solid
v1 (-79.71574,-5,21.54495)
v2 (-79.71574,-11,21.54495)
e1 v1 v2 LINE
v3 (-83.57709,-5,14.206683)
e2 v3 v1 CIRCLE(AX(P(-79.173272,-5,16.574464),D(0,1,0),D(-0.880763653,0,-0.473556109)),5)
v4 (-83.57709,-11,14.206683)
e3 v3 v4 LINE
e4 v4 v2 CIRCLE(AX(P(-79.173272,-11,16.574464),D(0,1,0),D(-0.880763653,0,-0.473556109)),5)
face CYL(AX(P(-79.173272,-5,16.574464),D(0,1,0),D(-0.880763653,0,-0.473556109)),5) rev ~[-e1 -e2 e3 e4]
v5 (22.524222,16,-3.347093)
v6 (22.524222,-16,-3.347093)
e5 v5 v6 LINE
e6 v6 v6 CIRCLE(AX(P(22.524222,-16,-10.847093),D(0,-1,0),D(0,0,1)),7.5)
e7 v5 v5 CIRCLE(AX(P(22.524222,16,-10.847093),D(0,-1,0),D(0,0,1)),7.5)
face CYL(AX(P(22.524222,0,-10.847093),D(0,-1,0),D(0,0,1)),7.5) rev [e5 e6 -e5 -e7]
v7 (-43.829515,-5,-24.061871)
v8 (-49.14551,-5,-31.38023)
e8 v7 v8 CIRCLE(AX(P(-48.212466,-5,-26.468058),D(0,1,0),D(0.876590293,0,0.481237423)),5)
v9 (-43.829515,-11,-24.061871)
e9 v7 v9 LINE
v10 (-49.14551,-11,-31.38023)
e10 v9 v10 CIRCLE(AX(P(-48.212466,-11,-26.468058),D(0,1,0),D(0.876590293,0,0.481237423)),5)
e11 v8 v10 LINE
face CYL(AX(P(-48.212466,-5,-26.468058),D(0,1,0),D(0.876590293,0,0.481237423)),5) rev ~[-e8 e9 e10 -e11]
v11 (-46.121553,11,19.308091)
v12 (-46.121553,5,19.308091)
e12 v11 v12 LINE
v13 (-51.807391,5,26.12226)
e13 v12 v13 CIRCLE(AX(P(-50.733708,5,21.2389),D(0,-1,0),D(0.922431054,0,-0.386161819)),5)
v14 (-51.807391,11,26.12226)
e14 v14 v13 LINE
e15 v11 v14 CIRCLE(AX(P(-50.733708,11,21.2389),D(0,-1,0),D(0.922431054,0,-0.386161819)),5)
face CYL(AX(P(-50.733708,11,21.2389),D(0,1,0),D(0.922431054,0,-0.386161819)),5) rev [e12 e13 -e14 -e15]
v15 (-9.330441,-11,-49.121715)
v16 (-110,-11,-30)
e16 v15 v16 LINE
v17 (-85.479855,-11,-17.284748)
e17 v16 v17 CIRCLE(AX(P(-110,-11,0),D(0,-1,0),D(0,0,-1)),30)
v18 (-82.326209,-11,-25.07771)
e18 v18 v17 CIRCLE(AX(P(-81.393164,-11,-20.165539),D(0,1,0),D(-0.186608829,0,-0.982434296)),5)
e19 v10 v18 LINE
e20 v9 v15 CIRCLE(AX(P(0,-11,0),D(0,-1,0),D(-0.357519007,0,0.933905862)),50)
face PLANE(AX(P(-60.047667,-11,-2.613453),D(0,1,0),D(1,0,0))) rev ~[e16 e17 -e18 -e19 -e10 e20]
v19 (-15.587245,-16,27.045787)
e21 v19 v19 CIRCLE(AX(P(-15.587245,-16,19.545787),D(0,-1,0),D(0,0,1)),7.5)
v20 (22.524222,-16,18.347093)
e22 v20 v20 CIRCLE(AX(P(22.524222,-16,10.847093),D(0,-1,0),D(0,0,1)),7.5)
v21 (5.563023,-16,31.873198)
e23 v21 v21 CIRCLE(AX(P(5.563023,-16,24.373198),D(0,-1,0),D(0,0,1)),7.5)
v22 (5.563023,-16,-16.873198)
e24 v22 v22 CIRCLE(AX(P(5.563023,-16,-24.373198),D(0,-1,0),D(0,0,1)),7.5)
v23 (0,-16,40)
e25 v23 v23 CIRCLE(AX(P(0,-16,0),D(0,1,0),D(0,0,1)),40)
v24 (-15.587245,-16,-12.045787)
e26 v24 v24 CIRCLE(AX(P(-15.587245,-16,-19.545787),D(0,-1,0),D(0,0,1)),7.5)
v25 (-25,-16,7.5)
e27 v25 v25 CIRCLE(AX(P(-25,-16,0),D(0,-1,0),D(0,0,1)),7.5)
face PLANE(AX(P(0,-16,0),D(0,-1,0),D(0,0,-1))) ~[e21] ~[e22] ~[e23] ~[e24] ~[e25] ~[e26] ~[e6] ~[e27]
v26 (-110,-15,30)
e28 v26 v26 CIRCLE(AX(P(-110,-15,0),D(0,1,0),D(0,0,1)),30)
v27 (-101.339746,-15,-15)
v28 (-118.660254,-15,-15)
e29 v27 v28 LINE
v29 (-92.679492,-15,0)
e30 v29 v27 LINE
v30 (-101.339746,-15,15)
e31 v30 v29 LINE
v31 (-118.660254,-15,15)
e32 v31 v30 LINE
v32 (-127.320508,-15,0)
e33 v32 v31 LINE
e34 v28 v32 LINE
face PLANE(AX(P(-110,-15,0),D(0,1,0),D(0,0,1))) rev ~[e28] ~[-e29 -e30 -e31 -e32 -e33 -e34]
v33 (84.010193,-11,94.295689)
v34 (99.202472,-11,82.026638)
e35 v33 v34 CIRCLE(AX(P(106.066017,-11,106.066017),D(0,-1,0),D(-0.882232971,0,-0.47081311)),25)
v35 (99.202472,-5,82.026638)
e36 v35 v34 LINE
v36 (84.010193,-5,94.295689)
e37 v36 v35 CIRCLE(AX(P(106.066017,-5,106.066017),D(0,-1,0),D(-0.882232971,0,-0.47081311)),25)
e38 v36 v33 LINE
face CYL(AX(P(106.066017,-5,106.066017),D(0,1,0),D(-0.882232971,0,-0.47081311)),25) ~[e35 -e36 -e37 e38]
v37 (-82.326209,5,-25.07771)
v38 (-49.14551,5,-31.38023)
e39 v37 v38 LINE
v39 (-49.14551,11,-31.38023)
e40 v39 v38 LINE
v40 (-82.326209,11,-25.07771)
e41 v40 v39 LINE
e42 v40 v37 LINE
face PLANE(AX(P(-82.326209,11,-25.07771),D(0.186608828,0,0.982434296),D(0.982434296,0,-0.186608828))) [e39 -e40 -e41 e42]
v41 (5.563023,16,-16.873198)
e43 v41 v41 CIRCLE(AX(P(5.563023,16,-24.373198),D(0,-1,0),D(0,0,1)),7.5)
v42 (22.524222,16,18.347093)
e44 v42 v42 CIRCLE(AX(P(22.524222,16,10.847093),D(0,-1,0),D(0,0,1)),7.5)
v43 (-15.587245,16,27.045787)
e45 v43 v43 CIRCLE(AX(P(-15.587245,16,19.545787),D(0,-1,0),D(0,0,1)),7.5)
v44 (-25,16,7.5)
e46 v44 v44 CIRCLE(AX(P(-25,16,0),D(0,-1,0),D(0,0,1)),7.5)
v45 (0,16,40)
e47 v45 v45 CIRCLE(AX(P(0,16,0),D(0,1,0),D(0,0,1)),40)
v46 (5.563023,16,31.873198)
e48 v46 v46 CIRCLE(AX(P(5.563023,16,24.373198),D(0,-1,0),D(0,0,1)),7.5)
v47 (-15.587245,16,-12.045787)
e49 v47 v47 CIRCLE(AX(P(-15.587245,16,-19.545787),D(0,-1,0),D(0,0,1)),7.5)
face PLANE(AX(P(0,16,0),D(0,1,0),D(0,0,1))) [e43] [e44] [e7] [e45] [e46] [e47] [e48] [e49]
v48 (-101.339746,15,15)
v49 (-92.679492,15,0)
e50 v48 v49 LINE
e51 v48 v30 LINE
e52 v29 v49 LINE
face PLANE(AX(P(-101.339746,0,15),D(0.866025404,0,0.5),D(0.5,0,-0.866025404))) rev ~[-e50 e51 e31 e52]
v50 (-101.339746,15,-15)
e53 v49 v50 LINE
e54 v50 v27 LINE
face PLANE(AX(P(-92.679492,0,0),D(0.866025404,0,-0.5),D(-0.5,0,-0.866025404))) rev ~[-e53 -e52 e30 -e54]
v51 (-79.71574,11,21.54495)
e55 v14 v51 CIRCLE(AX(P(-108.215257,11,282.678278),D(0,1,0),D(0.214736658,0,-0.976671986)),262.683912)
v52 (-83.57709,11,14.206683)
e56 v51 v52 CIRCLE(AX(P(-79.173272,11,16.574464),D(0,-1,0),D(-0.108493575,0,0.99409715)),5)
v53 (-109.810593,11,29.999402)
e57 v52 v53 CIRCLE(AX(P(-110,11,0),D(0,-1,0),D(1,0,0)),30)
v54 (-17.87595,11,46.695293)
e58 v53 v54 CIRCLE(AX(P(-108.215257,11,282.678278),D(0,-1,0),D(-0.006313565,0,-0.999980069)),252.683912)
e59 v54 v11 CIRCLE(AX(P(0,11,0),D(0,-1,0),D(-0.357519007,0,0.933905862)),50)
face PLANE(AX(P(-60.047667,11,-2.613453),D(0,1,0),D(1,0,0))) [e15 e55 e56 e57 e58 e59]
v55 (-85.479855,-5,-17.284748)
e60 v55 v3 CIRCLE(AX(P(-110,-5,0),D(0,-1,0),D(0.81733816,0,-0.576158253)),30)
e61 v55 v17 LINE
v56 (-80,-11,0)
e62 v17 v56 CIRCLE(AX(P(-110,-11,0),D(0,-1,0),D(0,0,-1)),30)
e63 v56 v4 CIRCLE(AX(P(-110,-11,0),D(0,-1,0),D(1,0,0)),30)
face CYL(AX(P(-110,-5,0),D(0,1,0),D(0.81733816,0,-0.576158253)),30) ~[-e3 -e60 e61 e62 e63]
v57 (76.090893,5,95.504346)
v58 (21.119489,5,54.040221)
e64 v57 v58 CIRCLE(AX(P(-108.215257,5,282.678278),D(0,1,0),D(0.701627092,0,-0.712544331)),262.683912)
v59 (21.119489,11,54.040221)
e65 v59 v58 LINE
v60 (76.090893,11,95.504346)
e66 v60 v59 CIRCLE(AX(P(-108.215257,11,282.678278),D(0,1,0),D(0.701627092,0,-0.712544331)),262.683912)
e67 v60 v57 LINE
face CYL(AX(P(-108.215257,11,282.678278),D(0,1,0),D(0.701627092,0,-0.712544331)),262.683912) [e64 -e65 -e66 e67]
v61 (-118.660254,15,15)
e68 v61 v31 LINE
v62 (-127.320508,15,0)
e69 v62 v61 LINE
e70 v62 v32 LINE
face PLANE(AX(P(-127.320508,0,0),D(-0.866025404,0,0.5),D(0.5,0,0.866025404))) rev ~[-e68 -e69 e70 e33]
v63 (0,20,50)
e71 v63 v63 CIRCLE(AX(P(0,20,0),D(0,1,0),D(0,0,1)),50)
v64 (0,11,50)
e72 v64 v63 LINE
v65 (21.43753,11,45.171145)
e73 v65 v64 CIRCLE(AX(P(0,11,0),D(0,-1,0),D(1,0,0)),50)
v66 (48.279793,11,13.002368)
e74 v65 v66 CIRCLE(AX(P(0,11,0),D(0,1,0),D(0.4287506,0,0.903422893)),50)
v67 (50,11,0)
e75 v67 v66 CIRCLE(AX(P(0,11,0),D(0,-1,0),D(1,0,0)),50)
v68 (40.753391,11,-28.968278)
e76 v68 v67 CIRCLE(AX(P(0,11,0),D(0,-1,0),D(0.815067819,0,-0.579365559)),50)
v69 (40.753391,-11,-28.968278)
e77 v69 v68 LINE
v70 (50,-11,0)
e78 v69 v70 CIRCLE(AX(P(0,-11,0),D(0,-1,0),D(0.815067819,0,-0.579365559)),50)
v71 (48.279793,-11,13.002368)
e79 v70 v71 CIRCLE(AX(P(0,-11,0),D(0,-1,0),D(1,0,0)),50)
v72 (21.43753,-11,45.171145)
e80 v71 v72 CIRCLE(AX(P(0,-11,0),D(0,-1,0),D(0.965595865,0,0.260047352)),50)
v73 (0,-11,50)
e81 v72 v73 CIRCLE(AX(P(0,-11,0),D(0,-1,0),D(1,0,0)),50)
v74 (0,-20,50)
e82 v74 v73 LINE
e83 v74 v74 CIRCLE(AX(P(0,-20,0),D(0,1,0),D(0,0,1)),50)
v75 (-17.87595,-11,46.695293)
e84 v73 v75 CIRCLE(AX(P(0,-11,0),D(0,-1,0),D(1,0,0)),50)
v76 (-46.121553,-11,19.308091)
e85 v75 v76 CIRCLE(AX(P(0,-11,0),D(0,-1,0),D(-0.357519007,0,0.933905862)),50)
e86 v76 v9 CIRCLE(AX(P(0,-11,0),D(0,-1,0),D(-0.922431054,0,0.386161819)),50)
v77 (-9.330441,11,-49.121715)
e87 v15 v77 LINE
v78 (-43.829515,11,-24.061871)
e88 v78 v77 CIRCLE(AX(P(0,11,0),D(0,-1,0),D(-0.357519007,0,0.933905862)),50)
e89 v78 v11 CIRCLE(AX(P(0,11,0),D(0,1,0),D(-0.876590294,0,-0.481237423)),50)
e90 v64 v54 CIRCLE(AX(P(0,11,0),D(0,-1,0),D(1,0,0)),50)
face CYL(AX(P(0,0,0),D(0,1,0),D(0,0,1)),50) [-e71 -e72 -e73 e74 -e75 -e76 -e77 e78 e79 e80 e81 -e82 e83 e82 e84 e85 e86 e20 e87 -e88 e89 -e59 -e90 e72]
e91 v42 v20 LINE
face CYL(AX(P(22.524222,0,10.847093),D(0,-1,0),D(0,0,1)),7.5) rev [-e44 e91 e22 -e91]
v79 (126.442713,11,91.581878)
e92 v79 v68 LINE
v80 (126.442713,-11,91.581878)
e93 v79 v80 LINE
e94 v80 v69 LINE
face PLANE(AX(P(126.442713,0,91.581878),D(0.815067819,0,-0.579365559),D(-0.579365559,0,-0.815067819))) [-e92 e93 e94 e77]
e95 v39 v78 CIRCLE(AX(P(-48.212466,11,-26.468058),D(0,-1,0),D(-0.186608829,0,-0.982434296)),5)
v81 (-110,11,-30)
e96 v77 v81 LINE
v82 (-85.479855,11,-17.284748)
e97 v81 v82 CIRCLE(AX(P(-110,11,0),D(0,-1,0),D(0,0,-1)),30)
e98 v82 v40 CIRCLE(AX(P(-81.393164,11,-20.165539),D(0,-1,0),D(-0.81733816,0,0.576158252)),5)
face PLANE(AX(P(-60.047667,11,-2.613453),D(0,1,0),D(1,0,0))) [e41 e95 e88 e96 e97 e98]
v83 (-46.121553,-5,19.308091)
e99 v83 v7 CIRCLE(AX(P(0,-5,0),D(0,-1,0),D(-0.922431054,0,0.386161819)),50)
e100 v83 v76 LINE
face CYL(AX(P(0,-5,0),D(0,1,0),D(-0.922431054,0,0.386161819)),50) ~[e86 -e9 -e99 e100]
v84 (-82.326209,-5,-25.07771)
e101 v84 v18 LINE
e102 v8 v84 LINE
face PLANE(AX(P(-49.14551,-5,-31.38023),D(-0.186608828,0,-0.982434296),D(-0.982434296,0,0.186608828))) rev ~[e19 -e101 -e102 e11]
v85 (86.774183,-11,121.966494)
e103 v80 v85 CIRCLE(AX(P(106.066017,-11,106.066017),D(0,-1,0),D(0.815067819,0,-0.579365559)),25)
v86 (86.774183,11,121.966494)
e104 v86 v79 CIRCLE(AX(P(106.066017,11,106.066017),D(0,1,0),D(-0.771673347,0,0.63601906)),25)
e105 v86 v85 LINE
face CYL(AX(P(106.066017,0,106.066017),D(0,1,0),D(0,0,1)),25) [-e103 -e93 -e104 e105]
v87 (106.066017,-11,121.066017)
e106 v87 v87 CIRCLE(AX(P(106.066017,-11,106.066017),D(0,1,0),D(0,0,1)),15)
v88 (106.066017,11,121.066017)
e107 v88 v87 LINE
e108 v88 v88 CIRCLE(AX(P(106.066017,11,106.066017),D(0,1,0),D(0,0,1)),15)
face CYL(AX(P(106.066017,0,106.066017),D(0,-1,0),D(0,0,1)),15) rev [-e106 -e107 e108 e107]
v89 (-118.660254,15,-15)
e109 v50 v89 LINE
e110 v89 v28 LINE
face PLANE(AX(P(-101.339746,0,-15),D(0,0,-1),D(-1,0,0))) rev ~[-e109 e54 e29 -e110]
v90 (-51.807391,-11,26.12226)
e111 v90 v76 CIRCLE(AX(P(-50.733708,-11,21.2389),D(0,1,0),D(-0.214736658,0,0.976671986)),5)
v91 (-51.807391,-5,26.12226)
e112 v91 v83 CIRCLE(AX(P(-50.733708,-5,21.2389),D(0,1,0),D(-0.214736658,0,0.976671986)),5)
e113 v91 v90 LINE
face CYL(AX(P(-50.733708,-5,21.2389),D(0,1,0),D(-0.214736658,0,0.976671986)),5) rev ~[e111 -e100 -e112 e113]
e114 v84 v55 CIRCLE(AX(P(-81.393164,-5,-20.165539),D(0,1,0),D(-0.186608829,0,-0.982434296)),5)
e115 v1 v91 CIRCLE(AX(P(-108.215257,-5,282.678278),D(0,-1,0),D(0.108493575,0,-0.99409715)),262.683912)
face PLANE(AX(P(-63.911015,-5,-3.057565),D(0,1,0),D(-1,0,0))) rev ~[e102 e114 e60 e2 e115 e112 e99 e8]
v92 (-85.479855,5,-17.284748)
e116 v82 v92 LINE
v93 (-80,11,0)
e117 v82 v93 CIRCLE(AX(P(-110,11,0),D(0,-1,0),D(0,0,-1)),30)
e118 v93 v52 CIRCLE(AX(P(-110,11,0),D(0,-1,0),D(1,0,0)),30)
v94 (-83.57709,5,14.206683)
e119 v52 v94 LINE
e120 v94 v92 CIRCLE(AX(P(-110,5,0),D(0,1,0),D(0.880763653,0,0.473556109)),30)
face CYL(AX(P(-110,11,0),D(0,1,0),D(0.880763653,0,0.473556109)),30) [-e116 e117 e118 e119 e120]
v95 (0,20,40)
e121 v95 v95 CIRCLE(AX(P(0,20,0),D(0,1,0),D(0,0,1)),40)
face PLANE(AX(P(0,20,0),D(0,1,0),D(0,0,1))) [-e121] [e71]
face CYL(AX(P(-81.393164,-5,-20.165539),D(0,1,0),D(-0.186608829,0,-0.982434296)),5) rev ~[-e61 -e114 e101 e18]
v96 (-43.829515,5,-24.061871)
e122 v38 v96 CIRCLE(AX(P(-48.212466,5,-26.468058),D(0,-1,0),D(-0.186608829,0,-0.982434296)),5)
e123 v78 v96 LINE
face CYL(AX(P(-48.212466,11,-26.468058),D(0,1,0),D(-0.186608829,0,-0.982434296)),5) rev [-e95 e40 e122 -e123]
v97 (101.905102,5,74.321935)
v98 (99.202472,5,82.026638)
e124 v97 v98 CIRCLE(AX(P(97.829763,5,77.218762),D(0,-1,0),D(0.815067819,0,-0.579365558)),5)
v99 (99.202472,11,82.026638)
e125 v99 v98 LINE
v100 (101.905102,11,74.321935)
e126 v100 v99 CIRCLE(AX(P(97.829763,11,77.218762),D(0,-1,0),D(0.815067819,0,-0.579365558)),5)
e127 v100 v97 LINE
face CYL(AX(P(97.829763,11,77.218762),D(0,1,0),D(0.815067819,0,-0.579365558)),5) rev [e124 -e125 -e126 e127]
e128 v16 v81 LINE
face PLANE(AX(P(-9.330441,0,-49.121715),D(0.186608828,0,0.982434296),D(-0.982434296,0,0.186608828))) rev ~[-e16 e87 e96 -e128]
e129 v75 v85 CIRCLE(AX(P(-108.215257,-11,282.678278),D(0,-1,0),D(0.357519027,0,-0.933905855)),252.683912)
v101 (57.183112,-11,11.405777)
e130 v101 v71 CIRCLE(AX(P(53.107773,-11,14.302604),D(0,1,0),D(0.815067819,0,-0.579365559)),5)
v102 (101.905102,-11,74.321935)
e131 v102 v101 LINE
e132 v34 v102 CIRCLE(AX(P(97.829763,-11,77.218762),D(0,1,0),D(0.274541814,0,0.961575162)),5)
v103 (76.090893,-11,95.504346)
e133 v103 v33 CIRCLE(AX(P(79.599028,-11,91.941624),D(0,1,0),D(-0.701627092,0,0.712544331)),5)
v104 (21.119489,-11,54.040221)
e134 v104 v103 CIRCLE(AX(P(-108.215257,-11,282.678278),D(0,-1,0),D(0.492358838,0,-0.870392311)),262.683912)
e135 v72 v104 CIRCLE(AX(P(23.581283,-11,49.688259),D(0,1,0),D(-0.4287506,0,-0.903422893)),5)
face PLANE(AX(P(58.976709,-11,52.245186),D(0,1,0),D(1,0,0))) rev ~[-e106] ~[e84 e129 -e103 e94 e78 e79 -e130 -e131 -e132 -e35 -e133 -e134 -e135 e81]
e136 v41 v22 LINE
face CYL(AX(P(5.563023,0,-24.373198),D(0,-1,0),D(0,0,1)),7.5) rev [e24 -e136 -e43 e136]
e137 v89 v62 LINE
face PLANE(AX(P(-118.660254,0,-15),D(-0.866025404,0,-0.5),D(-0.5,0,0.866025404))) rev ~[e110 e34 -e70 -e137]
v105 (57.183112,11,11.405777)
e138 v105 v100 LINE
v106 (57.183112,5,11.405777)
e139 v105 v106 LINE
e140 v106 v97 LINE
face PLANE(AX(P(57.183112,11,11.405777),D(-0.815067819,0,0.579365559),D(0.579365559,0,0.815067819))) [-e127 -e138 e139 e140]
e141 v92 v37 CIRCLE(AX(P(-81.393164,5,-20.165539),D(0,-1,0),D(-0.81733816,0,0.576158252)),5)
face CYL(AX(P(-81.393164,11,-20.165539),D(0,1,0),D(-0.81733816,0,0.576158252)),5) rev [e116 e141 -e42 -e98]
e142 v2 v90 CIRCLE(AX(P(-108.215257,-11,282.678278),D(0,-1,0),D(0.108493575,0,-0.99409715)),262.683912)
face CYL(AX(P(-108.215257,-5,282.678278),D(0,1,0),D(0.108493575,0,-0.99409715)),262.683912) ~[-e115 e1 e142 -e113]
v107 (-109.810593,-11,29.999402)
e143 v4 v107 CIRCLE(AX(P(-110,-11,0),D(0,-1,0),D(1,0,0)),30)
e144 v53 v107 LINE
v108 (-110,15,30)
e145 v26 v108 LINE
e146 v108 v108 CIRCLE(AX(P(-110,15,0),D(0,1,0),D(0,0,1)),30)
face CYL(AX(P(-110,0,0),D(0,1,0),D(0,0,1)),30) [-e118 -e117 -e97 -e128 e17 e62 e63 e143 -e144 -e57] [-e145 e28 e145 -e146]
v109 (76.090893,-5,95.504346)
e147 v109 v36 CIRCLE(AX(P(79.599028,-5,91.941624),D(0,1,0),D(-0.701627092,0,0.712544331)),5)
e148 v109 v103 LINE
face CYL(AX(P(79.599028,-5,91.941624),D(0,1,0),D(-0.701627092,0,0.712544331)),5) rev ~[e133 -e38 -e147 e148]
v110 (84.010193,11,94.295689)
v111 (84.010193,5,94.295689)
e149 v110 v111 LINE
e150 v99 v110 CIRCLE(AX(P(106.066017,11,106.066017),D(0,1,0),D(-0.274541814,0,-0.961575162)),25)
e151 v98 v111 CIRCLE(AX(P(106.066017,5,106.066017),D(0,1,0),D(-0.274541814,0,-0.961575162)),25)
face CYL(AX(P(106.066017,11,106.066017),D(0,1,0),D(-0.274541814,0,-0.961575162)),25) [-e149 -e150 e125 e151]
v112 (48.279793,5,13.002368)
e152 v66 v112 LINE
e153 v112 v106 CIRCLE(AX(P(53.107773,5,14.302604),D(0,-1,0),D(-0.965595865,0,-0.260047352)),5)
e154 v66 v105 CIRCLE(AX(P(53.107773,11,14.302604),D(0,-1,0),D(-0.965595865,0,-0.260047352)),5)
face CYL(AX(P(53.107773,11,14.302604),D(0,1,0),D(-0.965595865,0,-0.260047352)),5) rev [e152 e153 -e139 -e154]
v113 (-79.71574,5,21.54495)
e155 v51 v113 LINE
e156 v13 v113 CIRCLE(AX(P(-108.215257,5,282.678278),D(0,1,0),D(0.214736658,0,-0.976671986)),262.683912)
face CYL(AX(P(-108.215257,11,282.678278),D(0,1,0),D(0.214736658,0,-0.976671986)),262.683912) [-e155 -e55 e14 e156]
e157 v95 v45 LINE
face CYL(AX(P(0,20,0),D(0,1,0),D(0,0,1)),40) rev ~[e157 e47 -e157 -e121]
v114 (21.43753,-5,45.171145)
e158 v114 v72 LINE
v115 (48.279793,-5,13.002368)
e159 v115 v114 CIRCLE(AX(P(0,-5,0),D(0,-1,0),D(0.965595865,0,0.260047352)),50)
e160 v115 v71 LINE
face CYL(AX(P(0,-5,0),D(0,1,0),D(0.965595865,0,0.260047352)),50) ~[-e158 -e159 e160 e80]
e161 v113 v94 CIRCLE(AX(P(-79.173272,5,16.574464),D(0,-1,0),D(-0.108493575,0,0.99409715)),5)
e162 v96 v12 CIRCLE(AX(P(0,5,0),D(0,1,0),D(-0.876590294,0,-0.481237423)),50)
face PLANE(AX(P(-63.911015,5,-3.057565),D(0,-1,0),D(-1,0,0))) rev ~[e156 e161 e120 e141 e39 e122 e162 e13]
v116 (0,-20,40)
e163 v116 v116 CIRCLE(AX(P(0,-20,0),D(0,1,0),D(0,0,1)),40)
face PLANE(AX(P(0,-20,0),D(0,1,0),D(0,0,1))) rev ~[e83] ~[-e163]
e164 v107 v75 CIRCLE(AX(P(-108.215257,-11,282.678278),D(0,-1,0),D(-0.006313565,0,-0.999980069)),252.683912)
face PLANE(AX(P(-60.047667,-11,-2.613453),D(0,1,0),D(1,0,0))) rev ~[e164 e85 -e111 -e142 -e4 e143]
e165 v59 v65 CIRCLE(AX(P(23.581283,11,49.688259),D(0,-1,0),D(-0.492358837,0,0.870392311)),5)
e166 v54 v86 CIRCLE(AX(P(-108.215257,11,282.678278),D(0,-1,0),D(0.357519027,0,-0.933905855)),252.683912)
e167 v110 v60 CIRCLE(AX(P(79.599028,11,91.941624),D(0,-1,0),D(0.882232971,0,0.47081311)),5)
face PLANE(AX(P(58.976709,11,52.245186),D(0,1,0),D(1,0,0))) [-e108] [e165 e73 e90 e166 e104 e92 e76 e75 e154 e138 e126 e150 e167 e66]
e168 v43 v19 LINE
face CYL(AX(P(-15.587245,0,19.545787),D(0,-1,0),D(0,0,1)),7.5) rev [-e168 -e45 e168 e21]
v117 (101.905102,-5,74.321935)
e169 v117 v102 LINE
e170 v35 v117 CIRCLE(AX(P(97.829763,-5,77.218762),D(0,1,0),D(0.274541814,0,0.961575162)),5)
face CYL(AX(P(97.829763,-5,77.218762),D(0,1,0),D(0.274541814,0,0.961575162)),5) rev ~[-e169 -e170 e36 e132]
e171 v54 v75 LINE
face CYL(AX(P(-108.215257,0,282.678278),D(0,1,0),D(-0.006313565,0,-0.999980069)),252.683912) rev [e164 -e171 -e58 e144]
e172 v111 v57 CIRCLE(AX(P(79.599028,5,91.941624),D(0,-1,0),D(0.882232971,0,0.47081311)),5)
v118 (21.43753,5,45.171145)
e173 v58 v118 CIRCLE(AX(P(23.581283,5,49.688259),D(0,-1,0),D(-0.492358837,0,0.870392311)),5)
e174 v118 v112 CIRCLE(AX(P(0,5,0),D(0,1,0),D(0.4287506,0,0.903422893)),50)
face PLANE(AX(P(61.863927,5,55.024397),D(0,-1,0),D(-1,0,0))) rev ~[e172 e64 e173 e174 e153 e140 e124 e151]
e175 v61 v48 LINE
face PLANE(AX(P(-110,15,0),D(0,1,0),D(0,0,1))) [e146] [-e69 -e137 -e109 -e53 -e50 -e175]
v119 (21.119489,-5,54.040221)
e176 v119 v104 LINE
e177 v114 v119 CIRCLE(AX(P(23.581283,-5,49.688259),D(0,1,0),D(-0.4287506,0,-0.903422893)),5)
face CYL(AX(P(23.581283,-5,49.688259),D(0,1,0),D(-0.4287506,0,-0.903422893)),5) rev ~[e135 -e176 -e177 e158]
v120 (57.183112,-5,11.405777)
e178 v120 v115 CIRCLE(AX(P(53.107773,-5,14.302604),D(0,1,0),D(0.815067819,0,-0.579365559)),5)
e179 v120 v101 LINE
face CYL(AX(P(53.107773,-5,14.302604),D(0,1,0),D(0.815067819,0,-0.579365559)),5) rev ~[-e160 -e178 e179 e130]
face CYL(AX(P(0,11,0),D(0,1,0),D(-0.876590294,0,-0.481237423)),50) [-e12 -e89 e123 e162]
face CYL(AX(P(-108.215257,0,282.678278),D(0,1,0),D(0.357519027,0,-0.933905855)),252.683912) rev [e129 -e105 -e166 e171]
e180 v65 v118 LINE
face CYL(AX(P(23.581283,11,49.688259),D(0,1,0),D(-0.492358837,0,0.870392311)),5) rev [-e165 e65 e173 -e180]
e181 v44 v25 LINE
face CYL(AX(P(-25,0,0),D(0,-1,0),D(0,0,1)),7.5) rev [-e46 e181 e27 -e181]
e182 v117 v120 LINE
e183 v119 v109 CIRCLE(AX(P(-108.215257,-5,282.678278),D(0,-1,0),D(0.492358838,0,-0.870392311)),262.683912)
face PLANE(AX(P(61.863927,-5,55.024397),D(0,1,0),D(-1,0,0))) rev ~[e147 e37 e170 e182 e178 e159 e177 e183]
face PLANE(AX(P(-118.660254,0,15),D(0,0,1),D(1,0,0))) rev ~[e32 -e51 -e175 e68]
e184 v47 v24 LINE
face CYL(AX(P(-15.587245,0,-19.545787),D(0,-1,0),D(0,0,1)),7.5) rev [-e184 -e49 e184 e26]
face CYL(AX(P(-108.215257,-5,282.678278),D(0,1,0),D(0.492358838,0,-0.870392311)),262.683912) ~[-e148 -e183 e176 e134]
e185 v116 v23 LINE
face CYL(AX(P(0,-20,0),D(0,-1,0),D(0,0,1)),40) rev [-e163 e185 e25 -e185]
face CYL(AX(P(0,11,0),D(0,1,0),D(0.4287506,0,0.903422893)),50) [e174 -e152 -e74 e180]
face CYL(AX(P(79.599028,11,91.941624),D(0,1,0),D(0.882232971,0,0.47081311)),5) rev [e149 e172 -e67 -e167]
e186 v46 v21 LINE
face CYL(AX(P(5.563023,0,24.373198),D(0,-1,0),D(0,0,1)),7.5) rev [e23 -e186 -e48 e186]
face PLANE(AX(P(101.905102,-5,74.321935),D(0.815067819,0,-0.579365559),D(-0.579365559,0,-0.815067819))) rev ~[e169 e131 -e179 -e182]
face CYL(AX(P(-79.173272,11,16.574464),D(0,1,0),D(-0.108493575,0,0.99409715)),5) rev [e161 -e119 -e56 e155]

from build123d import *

# Parameters (mm, degrees)
SKETCH_1_R          = 50
SKETCH_1_R_2        = 7.5
EXTRUDE_2_DEPTH     = 20
SKETCH_4_R          = 40
CUT_EXTRUDE_1_DEPTH = 4
SKETCH_6_R          = 30
EXTRUDE_5_DEPTH     = 15
SKETCH_8_R          = 25
SKETCH_8_R_2        = 15
EXTRUDE_6_DEPTH     = 11
EXTRUDE_7_DEPTH     = 11
CUT_EXTRUDE_START   = 11
CUT_EXTRUDE_2_DEPTH = 6
CUT_EXTRUDE_START_2 = -6
CUT_EXTRUDE_3_DEPTH = 6


with BuildPart() as part:
    # 草图1 → 凸台-拉伸2 (new, symmetric)
    with BuildSketch(Plane(origin=(0, 0, 0), x_dir=(1, 0, 0), z_dir=(0, 1, 0))):
        with Locations(Location((0, 0, 0), (0, 0, 270))):
            Circle(SKETCH_1_R)
        with Locations(Location((-25, 0, 0), (0, 0, 270))):
            Circle(SKETCH_1_R_2, mode=Mode.SUBTRACT)
        with Locations(Location((-15.587245046, 19.545787062, 0), (0, 0, 270))):
            Circle(SKETCH_1_R_2, mode=Mode.SUBTRACT)
        with Locations(Location((5.563023349, 24.373197805, 0), (0, 0, 270))):
            Circle(SKETCH_1_R_2, mode=Mode.SUBTRACT)
        with Locations(Location((22.524221698, 10.847093478, 0), (0, 0, 270))):
            Circle(SKETCH_1_R_2, mode=Mode.SUBTRACT)
        with Locations(Location((22.524221698, -10.847093478, 0), (0, 0, 270))):
            Circle(SKETCH_1_R_2, mode=Mode.SUBTRACT)
        with Locations(Location((5.563023349, -24.373197805, 0), (0, 0, 270))):
            Circle(SKETCH_1_R_2, mode=Mode.SUBTRACT)
        with Locations(Location((-15.587245046, -19.545787062, 0), (0, 0, 270))):
            Circle(SKETCH_1_R_2, mode=Mode.SUBTRACT)
    extrude(amount=EXTRUDE_2_DEPTH, both=True)

    # 草图4 → 切除-拉伸1 (cut)
    with BuildSketch(Plane(origin=(0, 20, 0), x_dir=(1, 0, 0), z_dir=(0, 1, 0))):
        with Locations(Location((0, 0, 0), (0, 0, 270))):
            Circle(SKETCH_4_R)
    cut_extrude_1 = extrude(amount=-CUT_EXTRUDE_1_DEPTH, mode=Mode.SUBTRACT)

    # 镜向1: 切除-拉伸1 across plane
    add(cut_extrude_1.mirror(Plane.ZX), mode=Mode.SUBTRACT)



with BuildPart() as body_2:
    # 草图6 → 凸台-拉伸5 (new, symmetric)
    with BuildSketch(Plane(origin=(0, 0, 0), x_dir=(1, 0, 0), z_dir=(0, 1, 0))):
        with Locations(Location((-110, 0, 0), (0, 0, 270))):
            Circle(SKETCH_6_R)
        Polygon((-92.679491924, 0), (-101.339745962, 15), (-118.660254038, 15), (-127.320508076, 0), (-118.660254038, -15), (-101.339745962, -15), align=None, mode=Mode.SUBTRACT)
    extrude(amount=EXTRUDE_5_DEPTH, both=True)


with BuildPart() as body_3:
    # 草图8 → 凸台-拉伸6 (new, symmetric)
    with BuildSketch(Plane(origin=(0, 0, 0), x_dir=(1, 0, 0), z_dir=(0, 1, 0))):
        with Locations(Location((106.066017178, -106.066017178, 0), (0, 0, 270))):
            Circle(SKETCH_8_R)
        with Locations(Location((106.066017178, -106.066017178, 0), (0, 0, 270))):
            Circle(SKETCH_8_R_2, mode=Mode.SUBTRACT)
    extrude(amount=EXTRUDE_6_DEPTH, both=True)


with BuildPart() as part_1:
    add(part.part)

    add(body_2.part)  # 凸台-拉伸7 merges body 2

    add(body_3.part)  # 凸台-拉伸7 merges body 3
    # 草图9 → 凸台-拉伸7 (add, symmetric)
    with BuildSketch(Plane(origin=(0, 0, 0), x_dir=(1, 0, 0), z_dir=(0, 1, 0))):
        with BuildLine():
            Line((-9.330441424, 49.121714779), (-110, 30))
            ThreePointArc((-110, 30), (-88.786796564, 21.213203436), (-80, 0))
            ThreePointArc((-80, 0), (-88.71993646, -21.146131933), (-109.810593048, -29.999402077))
            ThreePointArc((-109.810593048, -29.999402077), (-63.064827616, -34.060904943), (-17.875950367, -46.695293108))
            ThreePointArc((-17.875950367, -46.695293108), (-49.802326137, 4.44165637), (-9.330441424, 49.121714779))
        make_face()
        with BuildLine():
            Line((126.442712652, -91.581878213), (40.753390949, 28.968277929))
            ThreePointArc((40.753390949, 28.968277929), (47.632287093, 15.204118727), (50, 0))
            ThreePointArc((50, 0), (28.33904093, -41.19343102), (-17.875950367, -46.695293108))
            ThreePointArc((-17.875950367, -46.695293108), (39.329861169, -77.545156319), (86.774183491, -121.966493681))
            ThreePointArc((86.774183491, -121.966493681), (90.864028968, -86.219114285), (126.442712652, -91.581878213))
        make_face()
    extrude(amount=EXTRUDE_7_DEPTH, both=True)

    # 草图10 → 切除-拉伸2 (cut)
    with BuildSketch(Plane(origin=(0, 0, 0), x_dir=(1, 0, 0), z_dir=(0, 1, 0)).offset(CUT_EXTRUDE_START)):
        with BuildLine():
            ThreePointArc((-43.829514678, 24.061871148), (-49.930321788, 2.638743289), (-46.121552708, -19.308090941))
            ThreePointArc((-46.121552708, -19.308090941), (-46.894642878, -24.442270002), (-51.807391271, -26.122259963))
            ThreePointArc((-51.807391271, -26.122259963), (-65.699920333, -23.457746699), (-79.715740029, -21.544949554))
            ThreePointArc((-79.715740029, -21.544949554), (-83.598085675, -18.902773341), (-83.577090418, -14.206683259))
            ThreePointArc((-83.577090418, -14.206683259), (-80.054612182, 1.80935028), (-85.479855197, 17.284747578))
            ThreePointArc((-85.479855197, 17.284747578), (-86.028032441, 22.041171589), (-82.326208539, 25.077710319))
            Line((-82.326208539, 25.077710319), (-49.145510288, 31.38022974))
            ThreePointArc((-49.145510288, 31.38022974), (-44.167091223, 29.4065854), (-43.829514678, 24.061871148))
        make_face()
        with BuildLine():
            ThreePointArc((99.202471828, -82.026638126), (90.358856707, -86.616464228), (84.010192893, -94.295689438))
            ThreePointArc((84.010192893, -94.295689438), (80.353400569, -96.884388509), (76.090892576, -95.504345545))
            ThreePointArc((76.090892576, -95.504345545), (49.969670312, -72.96331305), (21.11948881, -54.040220653))
            ThreePointArc((21.11948881, -54.040220653), (18.584494671, -49.509076454), (21.437529998, -45.171144635))
            ThreePointArc((21.437529998, -45.171144635), (38.390543683, -32.033828303), (48.279793254, -13.002367605))
            ThreePointArc((48.279793254, -13.002367605), (52.22522368, -9.381109934), (57.183111675, -11.405776572))
            Line((57.183111675, -11.405776572), (101.905101852, -74.321934522))
            ThreePointArc((101.905101852, -74.321934522), (102.547910869, -78.873778446), (99.202471828, -82.026638126))
        make_face()
    extrude(amount=-CUT_EXTRUDE_2_DEPTH, mode=Mode.SUBTRACT)

    # 草图11 → 切除-拉伸3 (cut)
    with BuildSketch(Plane.XZ.offset(11).offset(CUT_EXTRUDE_START_2)):
        with BuildLine():
            Line((101.905101852, 74.321934522), (57.183111675, 11.405776572))
            ThreePointArc((57.183111675, 11.405776572), (52.22522368, 9.381109934), (48.279793254, 13.002367605))
            ThreePointArc((48.279793254, 13.002367605), (38.390543683, 32.033828303), (21.437529998, 45.171144635))
            ThreePointArc((21.437529998, 45.171144635), (18.584494671, 49.509076454), (21.11948881, 54.040220653))
            ThreePointArc((21.11948881, 54.040220653), (49.969670312, 72.96331305), (76.090892576, 95.504345545))
            ThreePointArc((76.090892576, 95.504345545), (80.353400569, 96.884388509), (84.010192893, 94.295689438))
            ThreePointArc((84.010192893, 94.295689438), (90.358856707, 86.616464228), (99.202471828, 82.026638126))
            ThreePointArc((99.202471828, 82.026638126), (102.547910869, 78.873778446), (101.905101852, 74.321934522))
        make_face()
        with BuildLine():
            Line((-49.145510288, -31.38022974), (-82.326208539, -25.077710319))
            ThreePointArc((-82.326208539, -25.077710319), (-86.028032441, -22.041171589), (-85.479855197, -17.284747578))
            ThreePointArc((-85.479855197, -17.284747578), (-80.054612182, -1.80935028), (-83.577090418, 14.206683259))
            ThreePointArc((-83.577090418, 14.206683259), (-83.598085675, 18.902773341), (-79.715740029, 21.544949554))
            ThreePointArc((-79.715740029, 21.544949554), (-65.699920333, 23.457746699), (-51.807391271, 26.122259963))
            ThreePointArc((-51.807391271, 26.122259963), (-46.894642878, 24.442270002), (-46.121552708, 19.308090941))
            ThreePointArc((-46.121552708, 19.308090941), (-49.930321788, -2.638743289), (-43.829514678, -24.061871148))
            ThreePointArc((-43.829514678, -24.061871148), (-44.167091223, -29.4065854), (-49.145510288, -31.38022974))
        make_face()
    extrude(amount=CUT_EXTRUDE_3_DEPTH, mode=Mode.SUBTRACT)


solid = part_1.part
